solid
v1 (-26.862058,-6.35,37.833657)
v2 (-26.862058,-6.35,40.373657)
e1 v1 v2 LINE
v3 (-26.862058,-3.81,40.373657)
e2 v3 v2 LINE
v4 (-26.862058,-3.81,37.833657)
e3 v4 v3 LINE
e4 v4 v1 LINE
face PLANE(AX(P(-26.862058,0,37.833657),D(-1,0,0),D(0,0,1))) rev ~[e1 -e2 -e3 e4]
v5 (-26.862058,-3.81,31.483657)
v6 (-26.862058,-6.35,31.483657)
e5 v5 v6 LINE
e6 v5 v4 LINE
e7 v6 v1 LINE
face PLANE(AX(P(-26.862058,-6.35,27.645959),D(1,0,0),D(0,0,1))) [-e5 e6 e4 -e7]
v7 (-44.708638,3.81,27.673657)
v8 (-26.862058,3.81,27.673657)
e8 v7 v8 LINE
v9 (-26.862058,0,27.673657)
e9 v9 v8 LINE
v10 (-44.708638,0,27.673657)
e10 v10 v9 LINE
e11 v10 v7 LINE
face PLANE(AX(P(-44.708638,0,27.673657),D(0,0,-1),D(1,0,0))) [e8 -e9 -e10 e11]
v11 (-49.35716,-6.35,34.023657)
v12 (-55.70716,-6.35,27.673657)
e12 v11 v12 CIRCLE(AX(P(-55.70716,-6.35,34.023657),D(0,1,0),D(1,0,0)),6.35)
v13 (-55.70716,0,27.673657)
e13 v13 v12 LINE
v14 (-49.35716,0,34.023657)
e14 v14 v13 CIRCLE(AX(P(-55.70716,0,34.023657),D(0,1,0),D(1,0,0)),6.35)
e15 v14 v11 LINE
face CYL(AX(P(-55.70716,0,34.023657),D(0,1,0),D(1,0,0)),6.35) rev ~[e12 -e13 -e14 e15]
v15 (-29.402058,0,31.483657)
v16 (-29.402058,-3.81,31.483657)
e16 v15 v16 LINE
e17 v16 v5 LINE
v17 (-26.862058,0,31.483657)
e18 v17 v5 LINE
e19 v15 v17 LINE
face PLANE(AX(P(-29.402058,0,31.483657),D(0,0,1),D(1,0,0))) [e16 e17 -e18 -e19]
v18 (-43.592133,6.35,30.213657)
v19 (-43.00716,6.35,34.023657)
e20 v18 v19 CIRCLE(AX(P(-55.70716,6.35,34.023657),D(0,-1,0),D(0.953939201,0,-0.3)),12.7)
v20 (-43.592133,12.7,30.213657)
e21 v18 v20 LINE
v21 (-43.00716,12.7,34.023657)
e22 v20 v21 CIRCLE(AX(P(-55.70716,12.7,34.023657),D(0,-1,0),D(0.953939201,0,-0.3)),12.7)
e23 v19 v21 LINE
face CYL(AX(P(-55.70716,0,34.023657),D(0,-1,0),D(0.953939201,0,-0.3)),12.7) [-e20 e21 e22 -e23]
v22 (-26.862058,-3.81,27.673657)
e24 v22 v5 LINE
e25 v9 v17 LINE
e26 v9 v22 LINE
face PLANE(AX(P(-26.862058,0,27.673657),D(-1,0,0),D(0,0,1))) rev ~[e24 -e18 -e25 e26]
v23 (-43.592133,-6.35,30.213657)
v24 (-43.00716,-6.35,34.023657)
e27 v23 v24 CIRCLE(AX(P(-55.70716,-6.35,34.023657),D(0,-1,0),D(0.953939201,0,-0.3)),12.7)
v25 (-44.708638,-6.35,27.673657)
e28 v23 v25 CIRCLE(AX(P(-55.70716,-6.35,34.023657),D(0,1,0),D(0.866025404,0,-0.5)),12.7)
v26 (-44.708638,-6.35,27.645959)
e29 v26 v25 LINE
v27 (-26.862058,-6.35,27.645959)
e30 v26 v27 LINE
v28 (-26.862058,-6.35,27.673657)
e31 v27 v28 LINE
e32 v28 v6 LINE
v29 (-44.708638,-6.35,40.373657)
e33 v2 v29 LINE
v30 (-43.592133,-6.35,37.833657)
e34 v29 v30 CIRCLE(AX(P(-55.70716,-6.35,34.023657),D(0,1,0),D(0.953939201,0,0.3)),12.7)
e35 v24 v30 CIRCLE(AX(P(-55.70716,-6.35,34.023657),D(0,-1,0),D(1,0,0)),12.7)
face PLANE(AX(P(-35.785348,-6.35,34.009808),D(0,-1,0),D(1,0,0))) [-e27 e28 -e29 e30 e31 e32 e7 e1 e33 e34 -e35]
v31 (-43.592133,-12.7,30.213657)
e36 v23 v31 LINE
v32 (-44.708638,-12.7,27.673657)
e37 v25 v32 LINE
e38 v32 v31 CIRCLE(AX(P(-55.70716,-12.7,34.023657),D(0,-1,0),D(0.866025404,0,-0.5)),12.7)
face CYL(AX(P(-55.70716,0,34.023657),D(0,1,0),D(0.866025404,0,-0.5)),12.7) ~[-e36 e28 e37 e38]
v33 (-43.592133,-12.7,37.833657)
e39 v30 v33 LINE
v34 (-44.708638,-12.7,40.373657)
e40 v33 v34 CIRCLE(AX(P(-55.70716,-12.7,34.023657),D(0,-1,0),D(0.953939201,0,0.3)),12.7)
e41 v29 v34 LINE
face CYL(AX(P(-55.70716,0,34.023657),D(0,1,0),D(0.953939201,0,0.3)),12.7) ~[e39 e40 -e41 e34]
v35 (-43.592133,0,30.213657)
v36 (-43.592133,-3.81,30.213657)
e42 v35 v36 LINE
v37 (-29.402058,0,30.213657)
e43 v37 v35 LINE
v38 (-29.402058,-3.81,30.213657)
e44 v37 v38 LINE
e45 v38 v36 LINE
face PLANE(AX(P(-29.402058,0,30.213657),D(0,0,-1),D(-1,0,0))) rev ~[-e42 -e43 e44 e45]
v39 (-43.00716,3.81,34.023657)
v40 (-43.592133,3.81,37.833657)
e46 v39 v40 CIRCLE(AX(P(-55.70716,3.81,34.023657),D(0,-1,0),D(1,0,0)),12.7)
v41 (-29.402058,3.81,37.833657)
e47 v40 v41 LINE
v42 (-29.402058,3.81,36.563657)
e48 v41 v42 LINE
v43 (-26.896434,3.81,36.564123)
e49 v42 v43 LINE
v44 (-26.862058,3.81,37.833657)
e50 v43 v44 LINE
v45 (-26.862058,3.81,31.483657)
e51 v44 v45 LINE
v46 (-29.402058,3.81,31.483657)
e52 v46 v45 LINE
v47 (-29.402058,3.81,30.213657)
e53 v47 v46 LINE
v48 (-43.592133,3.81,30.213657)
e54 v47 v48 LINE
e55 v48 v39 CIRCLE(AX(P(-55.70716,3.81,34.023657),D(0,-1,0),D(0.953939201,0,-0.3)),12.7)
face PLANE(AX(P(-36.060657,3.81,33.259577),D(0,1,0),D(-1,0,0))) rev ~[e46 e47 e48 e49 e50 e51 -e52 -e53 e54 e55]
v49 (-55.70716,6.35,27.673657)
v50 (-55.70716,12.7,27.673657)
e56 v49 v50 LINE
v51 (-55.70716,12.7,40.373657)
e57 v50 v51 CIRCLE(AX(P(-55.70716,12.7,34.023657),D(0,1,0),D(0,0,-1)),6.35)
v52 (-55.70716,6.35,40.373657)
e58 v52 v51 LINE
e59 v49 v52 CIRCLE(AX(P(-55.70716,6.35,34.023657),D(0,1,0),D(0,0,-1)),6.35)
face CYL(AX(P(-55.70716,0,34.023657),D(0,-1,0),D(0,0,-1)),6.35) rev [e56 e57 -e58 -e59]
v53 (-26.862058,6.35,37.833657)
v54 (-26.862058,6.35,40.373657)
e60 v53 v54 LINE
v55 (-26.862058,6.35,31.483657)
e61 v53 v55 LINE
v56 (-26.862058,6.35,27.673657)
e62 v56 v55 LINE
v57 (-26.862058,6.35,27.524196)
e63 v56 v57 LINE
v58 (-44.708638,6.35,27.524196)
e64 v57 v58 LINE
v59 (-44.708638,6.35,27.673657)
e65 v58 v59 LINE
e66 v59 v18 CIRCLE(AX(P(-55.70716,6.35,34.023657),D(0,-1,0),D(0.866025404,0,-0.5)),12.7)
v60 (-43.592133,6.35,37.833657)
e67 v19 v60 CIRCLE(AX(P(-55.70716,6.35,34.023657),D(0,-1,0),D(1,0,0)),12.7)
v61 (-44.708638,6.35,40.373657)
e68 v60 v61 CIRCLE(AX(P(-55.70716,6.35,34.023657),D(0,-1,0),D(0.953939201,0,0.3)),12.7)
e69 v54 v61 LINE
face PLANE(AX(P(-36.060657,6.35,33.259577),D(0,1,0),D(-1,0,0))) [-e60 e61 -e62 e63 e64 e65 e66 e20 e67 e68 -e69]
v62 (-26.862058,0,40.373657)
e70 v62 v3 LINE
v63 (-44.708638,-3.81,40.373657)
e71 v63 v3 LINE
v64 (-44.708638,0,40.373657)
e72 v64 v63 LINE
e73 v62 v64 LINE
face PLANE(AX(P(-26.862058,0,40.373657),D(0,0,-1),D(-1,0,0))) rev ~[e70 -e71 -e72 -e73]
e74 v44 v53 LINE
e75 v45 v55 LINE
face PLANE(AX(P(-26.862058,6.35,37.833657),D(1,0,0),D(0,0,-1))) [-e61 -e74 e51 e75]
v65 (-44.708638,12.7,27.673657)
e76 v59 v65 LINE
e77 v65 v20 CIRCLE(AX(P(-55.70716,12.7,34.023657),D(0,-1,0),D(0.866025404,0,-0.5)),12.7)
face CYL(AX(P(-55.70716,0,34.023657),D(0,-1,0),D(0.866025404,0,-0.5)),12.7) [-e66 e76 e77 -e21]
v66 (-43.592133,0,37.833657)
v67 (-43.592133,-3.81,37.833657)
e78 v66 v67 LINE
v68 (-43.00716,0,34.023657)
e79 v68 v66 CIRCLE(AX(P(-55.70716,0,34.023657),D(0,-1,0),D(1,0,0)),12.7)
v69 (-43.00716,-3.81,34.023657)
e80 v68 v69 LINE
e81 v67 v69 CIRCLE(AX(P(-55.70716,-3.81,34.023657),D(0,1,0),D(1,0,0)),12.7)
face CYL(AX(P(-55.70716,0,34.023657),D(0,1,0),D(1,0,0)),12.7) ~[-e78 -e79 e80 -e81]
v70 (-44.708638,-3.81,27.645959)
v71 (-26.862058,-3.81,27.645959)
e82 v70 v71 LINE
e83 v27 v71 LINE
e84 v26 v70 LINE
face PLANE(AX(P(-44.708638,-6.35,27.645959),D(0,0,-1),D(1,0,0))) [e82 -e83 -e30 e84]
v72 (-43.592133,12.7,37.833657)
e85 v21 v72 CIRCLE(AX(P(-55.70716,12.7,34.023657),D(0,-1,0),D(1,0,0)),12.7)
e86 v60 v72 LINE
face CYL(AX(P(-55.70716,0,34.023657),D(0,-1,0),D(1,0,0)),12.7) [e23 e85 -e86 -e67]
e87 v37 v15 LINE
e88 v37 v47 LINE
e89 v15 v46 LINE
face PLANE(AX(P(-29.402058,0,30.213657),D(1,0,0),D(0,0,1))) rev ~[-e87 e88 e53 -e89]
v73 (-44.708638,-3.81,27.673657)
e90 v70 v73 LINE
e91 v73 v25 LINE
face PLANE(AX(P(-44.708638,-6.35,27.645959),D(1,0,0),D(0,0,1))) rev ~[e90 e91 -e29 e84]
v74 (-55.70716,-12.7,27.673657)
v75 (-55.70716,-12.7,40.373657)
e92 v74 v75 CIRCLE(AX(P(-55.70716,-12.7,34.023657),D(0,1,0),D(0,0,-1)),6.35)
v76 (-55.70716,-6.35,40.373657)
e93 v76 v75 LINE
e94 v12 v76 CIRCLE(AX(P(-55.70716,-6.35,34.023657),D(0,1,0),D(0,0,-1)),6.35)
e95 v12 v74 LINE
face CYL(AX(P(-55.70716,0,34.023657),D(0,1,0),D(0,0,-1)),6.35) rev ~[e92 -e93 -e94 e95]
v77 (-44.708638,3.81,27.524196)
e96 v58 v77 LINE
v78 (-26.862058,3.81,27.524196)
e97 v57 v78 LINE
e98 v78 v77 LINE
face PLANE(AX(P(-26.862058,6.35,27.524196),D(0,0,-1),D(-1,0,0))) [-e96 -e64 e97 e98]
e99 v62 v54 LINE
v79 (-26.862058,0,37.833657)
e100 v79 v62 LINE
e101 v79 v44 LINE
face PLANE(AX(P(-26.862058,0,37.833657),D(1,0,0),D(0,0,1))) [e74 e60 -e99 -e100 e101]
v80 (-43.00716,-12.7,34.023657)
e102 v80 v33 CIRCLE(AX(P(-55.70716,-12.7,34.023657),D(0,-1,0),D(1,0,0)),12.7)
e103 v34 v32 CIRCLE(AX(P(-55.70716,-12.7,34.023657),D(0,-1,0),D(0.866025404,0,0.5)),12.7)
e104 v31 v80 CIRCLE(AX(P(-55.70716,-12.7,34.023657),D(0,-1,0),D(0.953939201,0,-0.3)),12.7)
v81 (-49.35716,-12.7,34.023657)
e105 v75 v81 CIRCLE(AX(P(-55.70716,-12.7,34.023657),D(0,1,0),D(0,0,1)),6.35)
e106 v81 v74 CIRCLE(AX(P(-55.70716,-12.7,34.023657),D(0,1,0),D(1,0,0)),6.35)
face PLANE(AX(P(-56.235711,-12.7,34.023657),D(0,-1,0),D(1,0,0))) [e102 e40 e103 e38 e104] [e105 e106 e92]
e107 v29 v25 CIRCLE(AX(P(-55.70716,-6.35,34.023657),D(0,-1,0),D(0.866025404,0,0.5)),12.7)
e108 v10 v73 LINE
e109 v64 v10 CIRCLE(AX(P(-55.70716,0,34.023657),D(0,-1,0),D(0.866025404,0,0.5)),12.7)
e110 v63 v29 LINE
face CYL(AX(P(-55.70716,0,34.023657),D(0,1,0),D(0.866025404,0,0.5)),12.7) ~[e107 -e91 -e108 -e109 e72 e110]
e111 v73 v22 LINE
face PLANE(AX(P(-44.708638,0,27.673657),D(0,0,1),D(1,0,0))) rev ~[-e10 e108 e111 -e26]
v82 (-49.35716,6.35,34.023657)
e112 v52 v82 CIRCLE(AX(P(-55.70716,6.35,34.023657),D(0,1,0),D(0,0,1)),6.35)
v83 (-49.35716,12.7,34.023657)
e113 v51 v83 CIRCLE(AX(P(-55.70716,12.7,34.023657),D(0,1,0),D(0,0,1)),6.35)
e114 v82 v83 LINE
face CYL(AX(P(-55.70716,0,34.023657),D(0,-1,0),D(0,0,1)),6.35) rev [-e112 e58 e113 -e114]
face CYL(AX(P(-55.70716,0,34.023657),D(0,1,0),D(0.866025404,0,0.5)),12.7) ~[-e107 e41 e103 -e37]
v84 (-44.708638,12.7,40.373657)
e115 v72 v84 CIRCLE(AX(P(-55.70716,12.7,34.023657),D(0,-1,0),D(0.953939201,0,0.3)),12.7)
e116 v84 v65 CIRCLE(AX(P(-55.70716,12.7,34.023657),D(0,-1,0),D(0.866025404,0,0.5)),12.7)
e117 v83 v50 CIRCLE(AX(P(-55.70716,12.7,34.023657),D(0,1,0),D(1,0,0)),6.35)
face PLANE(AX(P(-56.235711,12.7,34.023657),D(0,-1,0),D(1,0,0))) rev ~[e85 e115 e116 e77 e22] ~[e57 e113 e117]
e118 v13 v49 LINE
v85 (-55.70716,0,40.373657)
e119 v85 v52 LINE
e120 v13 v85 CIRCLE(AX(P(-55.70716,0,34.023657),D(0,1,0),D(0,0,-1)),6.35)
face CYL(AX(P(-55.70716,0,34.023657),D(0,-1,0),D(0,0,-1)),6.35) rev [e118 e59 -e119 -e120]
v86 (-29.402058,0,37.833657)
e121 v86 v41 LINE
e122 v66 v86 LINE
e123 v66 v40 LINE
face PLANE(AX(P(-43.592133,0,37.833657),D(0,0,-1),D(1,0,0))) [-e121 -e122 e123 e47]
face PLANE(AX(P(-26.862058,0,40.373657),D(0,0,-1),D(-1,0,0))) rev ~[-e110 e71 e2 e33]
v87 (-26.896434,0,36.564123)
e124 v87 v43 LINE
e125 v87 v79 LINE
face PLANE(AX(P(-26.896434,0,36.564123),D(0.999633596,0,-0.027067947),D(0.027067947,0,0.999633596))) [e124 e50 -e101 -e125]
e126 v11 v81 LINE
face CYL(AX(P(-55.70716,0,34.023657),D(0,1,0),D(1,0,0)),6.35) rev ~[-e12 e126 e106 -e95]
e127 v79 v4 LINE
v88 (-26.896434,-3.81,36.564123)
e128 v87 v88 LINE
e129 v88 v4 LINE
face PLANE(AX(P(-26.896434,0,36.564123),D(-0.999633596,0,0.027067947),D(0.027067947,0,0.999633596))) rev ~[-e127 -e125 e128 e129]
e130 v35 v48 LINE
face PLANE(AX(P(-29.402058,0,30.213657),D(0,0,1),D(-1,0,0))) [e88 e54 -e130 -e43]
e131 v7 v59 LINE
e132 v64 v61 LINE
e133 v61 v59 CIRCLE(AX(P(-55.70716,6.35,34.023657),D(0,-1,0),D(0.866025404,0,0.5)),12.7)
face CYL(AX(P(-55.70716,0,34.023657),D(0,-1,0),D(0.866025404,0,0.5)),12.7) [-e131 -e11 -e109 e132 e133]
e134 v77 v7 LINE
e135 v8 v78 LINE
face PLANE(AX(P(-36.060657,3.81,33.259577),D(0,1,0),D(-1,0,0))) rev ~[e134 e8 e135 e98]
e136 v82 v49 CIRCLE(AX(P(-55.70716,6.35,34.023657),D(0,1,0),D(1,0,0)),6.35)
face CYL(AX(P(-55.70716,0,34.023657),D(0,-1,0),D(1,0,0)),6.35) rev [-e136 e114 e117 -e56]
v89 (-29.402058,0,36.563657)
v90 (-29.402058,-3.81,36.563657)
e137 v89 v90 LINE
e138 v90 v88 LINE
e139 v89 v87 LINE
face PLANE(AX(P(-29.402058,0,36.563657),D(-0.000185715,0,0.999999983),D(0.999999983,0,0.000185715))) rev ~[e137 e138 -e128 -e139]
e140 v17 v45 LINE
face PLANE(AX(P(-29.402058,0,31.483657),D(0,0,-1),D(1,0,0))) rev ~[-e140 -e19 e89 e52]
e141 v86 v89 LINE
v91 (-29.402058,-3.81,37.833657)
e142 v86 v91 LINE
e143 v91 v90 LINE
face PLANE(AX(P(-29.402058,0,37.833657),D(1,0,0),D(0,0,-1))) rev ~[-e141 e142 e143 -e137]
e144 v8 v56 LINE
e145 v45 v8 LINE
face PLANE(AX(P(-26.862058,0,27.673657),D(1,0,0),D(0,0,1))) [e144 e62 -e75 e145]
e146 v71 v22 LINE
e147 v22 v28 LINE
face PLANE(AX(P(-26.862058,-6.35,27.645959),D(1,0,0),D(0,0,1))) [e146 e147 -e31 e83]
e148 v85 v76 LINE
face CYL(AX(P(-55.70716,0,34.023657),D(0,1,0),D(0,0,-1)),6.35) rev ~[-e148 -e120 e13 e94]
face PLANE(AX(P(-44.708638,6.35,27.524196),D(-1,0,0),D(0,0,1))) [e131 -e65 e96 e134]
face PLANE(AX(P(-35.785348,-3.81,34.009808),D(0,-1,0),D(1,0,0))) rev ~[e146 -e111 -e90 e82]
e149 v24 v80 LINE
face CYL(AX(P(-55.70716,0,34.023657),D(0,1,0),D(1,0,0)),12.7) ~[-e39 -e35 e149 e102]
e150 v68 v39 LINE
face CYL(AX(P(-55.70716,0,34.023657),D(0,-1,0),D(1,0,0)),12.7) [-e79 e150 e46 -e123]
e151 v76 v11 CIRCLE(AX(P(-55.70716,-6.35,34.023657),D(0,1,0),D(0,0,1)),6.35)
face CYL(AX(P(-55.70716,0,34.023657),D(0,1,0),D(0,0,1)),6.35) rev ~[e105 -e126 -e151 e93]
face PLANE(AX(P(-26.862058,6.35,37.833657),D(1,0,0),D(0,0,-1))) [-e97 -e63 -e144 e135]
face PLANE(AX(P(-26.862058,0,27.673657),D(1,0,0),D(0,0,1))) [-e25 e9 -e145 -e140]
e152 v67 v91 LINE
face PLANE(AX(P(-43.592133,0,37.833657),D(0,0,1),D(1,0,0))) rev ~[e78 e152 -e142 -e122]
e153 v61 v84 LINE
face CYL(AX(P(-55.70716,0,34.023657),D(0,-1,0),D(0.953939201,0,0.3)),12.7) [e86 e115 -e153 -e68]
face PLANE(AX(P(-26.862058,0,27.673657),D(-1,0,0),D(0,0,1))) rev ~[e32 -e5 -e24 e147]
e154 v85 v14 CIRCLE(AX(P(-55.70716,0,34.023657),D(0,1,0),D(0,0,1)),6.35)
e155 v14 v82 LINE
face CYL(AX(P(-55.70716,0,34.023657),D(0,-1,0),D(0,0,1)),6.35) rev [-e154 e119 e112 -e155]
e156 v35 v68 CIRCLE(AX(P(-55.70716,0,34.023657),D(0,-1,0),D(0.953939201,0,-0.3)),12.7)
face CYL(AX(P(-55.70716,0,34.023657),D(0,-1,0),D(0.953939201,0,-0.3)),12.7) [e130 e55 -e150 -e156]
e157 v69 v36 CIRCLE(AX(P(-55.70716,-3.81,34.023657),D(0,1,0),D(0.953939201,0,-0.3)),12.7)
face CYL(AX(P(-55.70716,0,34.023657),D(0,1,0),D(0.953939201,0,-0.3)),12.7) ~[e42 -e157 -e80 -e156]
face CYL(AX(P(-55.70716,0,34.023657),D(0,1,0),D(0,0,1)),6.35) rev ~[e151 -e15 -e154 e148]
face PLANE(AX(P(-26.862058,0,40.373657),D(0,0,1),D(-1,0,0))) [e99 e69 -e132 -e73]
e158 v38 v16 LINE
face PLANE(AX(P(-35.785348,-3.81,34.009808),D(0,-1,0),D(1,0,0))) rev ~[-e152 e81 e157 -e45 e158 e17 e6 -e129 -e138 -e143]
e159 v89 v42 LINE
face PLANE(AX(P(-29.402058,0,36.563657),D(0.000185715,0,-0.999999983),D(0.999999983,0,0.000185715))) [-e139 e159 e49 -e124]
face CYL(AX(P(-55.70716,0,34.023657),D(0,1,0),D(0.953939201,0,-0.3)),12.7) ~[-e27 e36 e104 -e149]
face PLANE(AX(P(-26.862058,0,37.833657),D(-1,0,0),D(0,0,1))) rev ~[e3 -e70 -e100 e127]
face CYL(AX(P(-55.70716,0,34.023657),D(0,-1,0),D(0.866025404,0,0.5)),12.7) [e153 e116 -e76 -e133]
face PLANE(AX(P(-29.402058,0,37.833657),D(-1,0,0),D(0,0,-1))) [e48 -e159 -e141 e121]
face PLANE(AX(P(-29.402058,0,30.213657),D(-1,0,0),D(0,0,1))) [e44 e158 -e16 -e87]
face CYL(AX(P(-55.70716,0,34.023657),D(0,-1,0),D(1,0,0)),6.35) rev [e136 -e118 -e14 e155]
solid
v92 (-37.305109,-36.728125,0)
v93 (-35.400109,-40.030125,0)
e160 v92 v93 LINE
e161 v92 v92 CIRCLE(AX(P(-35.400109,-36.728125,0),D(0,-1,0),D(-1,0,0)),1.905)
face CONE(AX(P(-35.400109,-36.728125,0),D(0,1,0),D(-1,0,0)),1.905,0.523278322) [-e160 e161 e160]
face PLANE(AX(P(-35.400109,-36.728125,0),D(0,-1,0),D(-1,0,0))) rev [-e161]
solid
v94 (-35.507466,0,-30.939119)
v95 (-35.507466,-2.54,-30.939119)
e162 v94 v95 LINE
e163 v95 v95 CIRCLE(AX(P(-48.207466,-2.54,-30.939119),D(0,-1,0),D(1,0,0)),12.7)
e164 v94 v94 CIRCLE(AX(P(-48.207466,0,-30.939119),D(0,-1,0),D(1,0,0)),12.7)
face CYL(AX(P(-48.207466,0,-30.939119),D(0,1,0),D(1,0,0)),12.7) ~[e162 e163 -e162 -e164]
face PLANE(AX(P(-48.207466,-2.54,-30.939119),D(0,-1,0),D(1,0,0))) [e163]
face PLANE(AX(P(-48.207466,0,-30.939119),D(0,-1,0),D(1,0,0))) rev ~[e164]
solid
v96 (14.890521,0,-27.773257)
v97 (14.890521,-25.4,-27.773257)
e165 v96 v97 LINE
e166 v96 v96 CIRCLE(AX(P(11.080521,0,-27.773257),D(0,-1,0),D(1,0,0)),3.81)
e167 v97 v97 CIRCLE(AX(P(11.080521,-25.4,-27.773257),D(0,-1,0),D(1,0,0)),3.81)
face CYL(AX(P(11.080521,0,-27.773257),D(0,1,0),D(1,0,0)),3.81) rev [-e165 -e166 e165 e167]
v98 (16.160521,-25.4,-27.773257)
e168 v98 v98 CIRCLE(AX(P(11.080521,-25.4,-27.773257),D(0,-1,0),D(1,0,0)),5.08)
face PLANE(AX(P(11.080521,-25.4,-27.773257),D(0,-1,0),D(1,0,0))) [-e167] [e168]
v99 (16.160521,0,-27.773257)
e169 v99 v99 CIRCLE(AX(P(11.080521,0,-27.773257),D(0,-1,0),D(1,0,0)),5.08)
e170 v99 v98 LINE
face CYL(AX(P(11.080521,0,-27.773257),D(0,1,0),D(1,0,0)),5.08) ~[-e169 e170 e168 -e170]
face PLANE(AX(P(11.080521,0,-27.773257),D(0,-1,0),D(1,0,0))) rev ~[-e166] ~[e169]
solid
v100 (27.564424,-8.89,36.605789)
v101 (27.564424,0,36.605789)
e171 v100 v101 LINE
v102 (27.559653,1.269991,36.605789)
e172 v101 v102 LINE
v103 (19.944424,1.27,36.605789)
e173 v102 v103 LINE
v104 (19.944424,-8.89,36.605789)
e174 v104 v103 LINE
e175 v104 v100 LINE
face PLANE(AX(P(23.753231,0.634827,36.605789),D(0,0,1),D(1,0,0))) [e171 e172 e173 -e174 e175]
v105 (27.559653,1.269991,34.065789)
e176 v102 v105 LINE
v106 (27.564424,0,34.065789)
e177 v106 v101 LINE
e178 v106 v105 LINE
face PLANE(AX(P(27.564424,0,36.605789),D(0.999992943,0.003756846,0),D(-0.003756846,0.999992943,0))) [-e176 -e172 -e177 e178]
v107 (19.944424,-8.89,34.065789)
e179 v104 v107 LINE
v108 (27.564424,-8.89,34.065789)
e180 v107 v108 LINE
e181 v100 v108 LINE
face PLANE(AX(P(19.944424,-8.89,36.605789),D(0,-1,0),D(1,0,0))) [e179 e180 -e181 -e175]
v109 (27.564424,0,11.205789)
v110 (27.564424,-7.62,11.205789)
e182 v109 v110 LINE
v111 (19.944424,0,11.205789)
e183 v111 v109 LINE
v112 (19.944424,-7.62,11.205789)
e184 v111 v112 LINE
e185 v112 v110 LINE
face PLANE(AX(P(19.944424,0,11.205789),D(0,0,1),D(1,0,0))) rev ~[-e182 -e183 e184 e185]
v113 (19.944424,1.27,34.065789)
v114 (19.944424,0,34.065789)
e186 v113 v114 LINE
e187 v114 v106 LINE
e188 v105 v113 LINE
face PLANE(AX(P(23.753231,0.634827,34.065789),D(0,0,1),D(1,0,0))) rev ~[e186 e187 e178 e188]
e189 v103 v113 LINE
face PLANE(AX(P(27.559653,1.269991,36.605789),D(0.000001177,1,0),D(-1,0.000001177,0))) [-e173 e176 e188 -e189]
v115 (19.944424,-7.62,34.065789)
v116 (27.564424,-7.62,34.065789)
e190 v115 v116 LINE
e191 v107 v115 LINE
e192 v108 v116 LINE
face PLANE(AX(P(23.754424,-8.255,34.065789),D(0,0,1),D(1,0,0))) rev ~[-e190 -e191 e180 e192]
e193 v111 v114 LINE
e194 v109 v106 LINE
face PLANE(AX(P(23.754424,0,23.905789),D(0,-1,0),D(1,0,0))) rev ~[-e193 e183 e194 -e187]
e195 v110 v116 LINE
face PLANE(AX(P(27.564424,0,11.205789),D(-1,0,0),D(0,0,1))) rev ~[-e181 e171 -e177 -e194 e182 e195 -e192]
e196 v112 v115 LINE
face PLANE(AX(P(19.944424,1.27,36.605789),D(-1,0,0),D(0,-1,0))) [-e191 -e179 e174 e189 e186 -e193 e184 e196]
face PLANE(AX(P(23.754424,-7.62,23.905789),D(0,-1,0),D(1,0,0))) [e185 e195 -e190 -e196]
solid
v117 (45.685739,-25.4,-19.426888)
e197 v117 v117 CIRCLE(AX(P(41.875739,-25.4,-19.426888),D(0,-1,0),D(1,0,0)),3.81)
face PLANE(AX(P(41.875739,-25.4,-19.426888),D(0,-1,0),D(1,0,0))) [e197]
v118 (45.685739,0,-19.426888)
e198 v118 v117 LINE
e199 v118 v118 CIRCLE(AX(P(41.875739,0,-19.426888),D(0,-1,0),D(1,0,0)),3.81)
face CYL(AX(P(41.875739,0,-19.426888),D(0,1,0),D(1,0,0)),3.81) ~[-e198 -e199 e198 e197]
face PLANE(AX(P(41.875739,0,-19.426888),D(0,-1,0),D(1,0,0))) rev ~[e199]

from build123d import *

# Parameters (mm, degrees)
F1_DEPTH  = 12.7
F0_W      = 2.54
F0_H      = 1.27
F2_DEPTH  = 6.35
F3_W      = 17.8465797751
F3_H      = 12.7276986487
F4_DEPTH  = 2.54
F6_DEPTH  = 2.54
F7_W      = 7.62
F7_H      = 25.4
F8_DEPTH  = 7.62
F9_W      = 7.62
F9_H      = 1.27
F10_DEPTH = 2.54
F11_R     = 12.7
F12_DEPTH = 2.54
F13_R     = 5.08
F13_R_2   = 3.81
F14_DEPTH = 25.4
F15_R     = 3.81
F16_DEPTH = 25.4


with BuildPart() as f1:
    # F0 (on Front) → F1 (new body, symmetric)
    with BuildSketch(Plane.XZ):
        with BuildLine():
            ThreePointArc((-55.7071603835, 27.6736572362), (-62.0571603835, 34.0236572362), (-55.7071603835, 40.3736572362))
            Line((-55.7071603835, 40.3736572362), (-44.7086377554, 40.3736572362))
            ThreePointArc((-44.7086377554, 40.3736572362), (-68.4071603835, 34.0236572362), (-44.7086377554, 27.6736572362))
            Line((-44.7086377554, 27.6736572362), (-55.7071603835, 27.6736572362))
        make_face()
        with BuildLine():
            ThreePointArc((-55.7071603835, 40.3736572362), (-51.2170323229, 38.5137852967), (-49.3571603835, 34.0236572362))
            ThreePointArc((-49.3571603835, 34.0236572362), (-51.2170323229, 29.5335291756), (-55.7071603835, 27.6736572362))
            Line((-55.7071603835, 27.6736572362), (-44.7086377554, 27.6736572362))
            ThreePointArc((-44.7086377554, 27.6736572362), (-44.0808129769, 28.9130754707), (-43.5921325255, 30.2136572362))
            ThreePointArc((-43.5921325255, 30.2136572362), (-43.1542552656, 32.0963344553), (-43.0071603835, 34.0236572362))
            ThreePointArc((-43.0071603835, 34.0236572362), (-43.1542552656, 35.9509800171), (-43.5921325255, 37.8336572362))
            ThreePointArc((-43.5921325255, 37.8336572362), (-44.0808129769, 39.1342390017), (-44.7086377554, 40.3736572362))
            Line((-44.7086377554, 40.3736572362), (-55.7071603835, 40.3736572362))
        make_face()
    extrude(amount=F1_DEPTH, both=True)

    # F0 (on Front) → F2 (join, symmetric)
    with BuildSketch(Plane.XZ):
        with BuildLine():
            ThreePointArc((-55.7071603835, 40.3736572362), (-51.2170323229, 38.5137852967), (-49.3571603835, 34.0236572362))
            ThreePointArc((-49.3571603835, 34.0236572362), (-51.2170323229, 29.5335291756), (-55.7071603835, 27.6736572362))
            Line((-55.7071603835, 27.6736572362), (-44.7086377554, 27.6736572362))
            ThreePointArc((-44.7086377554, 27.6736572362), (-44.0808129769, 28.9130754707), (-43.5921325255, 30.2136572362))
            ThreePointArc((-43.5921325255, 30.2136572362), (-43.1542552656, 32.0963344553), (-43.0071603835, 34.0236572362))
            ThreePointArc((-43.0071603835, 34.0236572362), (-43.1542552656, 35.9509800171), (-43.5921325255, 37.8336572362))
            ThreePointArc((-43.5921325255, 37.8336572362), (-44.0808129769, 39.1342390017), (-44.7086377554, 40.3736572362))
            Line((-44.7086377554, 40.3736572362), (-55.7071603835, 40.3736572362))
        make_face()
        with BuildLine():
            ThreePointArc((-55.7071603835, 27.6736572362), (-62.0571603835, 34.0236572362), (-55.7071603835, 40.3736572362))
            Line((-55.7071603835, 40.3736572362), (-44.7086377554, 40.3736572362))
            ThreePointArc((-44.7086377554, 40.3736572362), (-68.4071603835, 34.0236572362), (-44.7086377554, 27.6736572362))
            Line((-44.7086377554, 27.6736572362), (-55.7071603835, 27.6736572362))
        make_face()
        with BuildLine():
            Line((-26.8620579803, 40.3736572362), (-44.7086377554, 40.3736572362))
            ThreePointArc((-44.7086377554, 40.3736572362), (-44.0808129769, 39.1342390017), (-43.5921325255, 37.8336572362))
            Line((-43.5921325255, 37.8336572362), (-29.4020579803, 37.8336572362))
            Line((-29.4020579803, 37.8336572362), (-26.8620579803, 37.8336572362))
            Line((-26.8620579803, 37.8336572362), (-26.8620579803, 40.3736572362))
        make_face()
        with BuildLine():
            ThreePointArc((-43.5921325255, 30.2136572362), (-44.0808129769, 28.9130754707), (-44.7086377554, 27.6736572362))
            Line((-44.7086377554, 27.6736572362), (-26.8620579803, 27.6736572362))
            Line((-26.8620579803, 27.6736572362), (-26.8620579803, 30.2136572362))
            Line((-26.8620579803, 30.2136572362), (-29.4020579803, 30.2136572362))
            Line((-29.4020579803, 30.2136572362), (-43.5921325255, 30.2136572362))
        make_face()
        Polygon((-26.8620579803, 37.8336572362), (-29.4020579803, 37.8336572362), (-29.4020579803, 36.5636572362), (-26.8964342725, 36.5641225693), align=None)
        with Locations((-28.1320579803, 30.8486572362)):
            Rectangle(F0_W, F0_H)
    extrude(amount=F2_DEPTH, both=True)

    # F3 (on face) → F4 (join)
    with BuildSketch(Plane.XZ.offset(6.35)):
        with Locations((-35.7853478678, 34.0098079119)):
            Rectangle(F3_W, F3_H)
    extrude(amount=-F4_DEPTH)

    # F5 (on face) → F6 (join)
    with BuildSketch(Plane(origin=(0, 6.35, 0), x_dir=(-1, 0, 0), z_dir=(0, 1, 0))):
        with BuildLine():
            Line((44.7086377554, 27.5241956115), (44.7086377554, 40.3736572362))
            ThreePointArc((44.7086377554, 40.3736572362), (44.0808129769, 39.1342390017), (43.5921325255, 37.8336572362))
            Line((43.5921325255, 37.8336572362), (29.4020579803, 37.8336572362))
            Line((29.4020579803, 37.8336572362), (29.4020579803, 36.5636572362))
            Line((29.4020579803, 36.5636572362), (26.8964342725, 36.5641225693))
            Line((26.8964342725, 36.5641225693), (26.8620579803, 37.8336572362))
            Line((26.8620579803, 37.8336572362), (26.8620579803, 27.5241956115))
            Line((26.8620579803, 27.5241956115), (44.7086377554, 27.5241956115))
        make_face()
    extrude(amount=-F6_DEPTH)


with BuildPart() as f8:
    # F7 (on Front) → F8 (new body)
    with BuildSketch(Plane.XZ):
        with Locations((23.7544238305, 23.9057886296)):
            Rectangle(F7_W, F7_H)
    extrude(amount=F8_DEPTH)

    # F9 (on face) → F10 (join)
    with BuildSketch(Plane.XY.offset(36.6057886296)):
        Polygon((19.9444238305, 1.27), (19.9444238305, 0), (27.5644238305, 0), (27.5596526358, 1.2699910376), align=None)
        with Locations((23.7544238305, -8.255)):
            Rectangle(F9_W, F9_H)
    extrude(amount=-F10_DEPTH)


with BuildPart() as f12:
    # F11 (on Front) → F12 (new body)
    with BuildSketch(Plane.XZ):
        with Locations((-48.2074655592, -30.9391189367)):
            Circle(F11_R)
    extrude(amount=F12_DEPTH)


with BuildPart() as f14:
    # F13 (on Front) → F14 (new body)
    with BuildSketch(Plane.XZ):
        with Locations((11.0805211589, -27.773257345)):
            Circle(F13_R)
        with Locations((11.0805211589, -27.773257345)):
            Circle(F13_R_2, mode=Mode.SUBTRACT)
    extrude(amount=F14_DEPTH)


with BuildPart() as f16:
    # F15 (on Front) → F16 (new body)
    with BuildSketch(Plane.XZ):
        with Locations((41.8757386506, -19.4268878549)):
            Circle(F15_R)
    extrude(amount=F16_DEPTH)


with BuildPart() as f18:
    # F17 (on Top) → F18 (revolve)
    with BuildSketch(Plane.XY):
        Polygon((-35.4001093656, -36.7281247626), (-37.3051093656, -36.7281247626), (-35.4001093656, -40.0301247626), align=None)
    revolve(axis=Axis((-35.4001093656, -38.3791247626, 0), (0, -1, 0)))


solid = Compound([f1.part, f8.part, f12.part, f14.part, f16.part, f18.part])
